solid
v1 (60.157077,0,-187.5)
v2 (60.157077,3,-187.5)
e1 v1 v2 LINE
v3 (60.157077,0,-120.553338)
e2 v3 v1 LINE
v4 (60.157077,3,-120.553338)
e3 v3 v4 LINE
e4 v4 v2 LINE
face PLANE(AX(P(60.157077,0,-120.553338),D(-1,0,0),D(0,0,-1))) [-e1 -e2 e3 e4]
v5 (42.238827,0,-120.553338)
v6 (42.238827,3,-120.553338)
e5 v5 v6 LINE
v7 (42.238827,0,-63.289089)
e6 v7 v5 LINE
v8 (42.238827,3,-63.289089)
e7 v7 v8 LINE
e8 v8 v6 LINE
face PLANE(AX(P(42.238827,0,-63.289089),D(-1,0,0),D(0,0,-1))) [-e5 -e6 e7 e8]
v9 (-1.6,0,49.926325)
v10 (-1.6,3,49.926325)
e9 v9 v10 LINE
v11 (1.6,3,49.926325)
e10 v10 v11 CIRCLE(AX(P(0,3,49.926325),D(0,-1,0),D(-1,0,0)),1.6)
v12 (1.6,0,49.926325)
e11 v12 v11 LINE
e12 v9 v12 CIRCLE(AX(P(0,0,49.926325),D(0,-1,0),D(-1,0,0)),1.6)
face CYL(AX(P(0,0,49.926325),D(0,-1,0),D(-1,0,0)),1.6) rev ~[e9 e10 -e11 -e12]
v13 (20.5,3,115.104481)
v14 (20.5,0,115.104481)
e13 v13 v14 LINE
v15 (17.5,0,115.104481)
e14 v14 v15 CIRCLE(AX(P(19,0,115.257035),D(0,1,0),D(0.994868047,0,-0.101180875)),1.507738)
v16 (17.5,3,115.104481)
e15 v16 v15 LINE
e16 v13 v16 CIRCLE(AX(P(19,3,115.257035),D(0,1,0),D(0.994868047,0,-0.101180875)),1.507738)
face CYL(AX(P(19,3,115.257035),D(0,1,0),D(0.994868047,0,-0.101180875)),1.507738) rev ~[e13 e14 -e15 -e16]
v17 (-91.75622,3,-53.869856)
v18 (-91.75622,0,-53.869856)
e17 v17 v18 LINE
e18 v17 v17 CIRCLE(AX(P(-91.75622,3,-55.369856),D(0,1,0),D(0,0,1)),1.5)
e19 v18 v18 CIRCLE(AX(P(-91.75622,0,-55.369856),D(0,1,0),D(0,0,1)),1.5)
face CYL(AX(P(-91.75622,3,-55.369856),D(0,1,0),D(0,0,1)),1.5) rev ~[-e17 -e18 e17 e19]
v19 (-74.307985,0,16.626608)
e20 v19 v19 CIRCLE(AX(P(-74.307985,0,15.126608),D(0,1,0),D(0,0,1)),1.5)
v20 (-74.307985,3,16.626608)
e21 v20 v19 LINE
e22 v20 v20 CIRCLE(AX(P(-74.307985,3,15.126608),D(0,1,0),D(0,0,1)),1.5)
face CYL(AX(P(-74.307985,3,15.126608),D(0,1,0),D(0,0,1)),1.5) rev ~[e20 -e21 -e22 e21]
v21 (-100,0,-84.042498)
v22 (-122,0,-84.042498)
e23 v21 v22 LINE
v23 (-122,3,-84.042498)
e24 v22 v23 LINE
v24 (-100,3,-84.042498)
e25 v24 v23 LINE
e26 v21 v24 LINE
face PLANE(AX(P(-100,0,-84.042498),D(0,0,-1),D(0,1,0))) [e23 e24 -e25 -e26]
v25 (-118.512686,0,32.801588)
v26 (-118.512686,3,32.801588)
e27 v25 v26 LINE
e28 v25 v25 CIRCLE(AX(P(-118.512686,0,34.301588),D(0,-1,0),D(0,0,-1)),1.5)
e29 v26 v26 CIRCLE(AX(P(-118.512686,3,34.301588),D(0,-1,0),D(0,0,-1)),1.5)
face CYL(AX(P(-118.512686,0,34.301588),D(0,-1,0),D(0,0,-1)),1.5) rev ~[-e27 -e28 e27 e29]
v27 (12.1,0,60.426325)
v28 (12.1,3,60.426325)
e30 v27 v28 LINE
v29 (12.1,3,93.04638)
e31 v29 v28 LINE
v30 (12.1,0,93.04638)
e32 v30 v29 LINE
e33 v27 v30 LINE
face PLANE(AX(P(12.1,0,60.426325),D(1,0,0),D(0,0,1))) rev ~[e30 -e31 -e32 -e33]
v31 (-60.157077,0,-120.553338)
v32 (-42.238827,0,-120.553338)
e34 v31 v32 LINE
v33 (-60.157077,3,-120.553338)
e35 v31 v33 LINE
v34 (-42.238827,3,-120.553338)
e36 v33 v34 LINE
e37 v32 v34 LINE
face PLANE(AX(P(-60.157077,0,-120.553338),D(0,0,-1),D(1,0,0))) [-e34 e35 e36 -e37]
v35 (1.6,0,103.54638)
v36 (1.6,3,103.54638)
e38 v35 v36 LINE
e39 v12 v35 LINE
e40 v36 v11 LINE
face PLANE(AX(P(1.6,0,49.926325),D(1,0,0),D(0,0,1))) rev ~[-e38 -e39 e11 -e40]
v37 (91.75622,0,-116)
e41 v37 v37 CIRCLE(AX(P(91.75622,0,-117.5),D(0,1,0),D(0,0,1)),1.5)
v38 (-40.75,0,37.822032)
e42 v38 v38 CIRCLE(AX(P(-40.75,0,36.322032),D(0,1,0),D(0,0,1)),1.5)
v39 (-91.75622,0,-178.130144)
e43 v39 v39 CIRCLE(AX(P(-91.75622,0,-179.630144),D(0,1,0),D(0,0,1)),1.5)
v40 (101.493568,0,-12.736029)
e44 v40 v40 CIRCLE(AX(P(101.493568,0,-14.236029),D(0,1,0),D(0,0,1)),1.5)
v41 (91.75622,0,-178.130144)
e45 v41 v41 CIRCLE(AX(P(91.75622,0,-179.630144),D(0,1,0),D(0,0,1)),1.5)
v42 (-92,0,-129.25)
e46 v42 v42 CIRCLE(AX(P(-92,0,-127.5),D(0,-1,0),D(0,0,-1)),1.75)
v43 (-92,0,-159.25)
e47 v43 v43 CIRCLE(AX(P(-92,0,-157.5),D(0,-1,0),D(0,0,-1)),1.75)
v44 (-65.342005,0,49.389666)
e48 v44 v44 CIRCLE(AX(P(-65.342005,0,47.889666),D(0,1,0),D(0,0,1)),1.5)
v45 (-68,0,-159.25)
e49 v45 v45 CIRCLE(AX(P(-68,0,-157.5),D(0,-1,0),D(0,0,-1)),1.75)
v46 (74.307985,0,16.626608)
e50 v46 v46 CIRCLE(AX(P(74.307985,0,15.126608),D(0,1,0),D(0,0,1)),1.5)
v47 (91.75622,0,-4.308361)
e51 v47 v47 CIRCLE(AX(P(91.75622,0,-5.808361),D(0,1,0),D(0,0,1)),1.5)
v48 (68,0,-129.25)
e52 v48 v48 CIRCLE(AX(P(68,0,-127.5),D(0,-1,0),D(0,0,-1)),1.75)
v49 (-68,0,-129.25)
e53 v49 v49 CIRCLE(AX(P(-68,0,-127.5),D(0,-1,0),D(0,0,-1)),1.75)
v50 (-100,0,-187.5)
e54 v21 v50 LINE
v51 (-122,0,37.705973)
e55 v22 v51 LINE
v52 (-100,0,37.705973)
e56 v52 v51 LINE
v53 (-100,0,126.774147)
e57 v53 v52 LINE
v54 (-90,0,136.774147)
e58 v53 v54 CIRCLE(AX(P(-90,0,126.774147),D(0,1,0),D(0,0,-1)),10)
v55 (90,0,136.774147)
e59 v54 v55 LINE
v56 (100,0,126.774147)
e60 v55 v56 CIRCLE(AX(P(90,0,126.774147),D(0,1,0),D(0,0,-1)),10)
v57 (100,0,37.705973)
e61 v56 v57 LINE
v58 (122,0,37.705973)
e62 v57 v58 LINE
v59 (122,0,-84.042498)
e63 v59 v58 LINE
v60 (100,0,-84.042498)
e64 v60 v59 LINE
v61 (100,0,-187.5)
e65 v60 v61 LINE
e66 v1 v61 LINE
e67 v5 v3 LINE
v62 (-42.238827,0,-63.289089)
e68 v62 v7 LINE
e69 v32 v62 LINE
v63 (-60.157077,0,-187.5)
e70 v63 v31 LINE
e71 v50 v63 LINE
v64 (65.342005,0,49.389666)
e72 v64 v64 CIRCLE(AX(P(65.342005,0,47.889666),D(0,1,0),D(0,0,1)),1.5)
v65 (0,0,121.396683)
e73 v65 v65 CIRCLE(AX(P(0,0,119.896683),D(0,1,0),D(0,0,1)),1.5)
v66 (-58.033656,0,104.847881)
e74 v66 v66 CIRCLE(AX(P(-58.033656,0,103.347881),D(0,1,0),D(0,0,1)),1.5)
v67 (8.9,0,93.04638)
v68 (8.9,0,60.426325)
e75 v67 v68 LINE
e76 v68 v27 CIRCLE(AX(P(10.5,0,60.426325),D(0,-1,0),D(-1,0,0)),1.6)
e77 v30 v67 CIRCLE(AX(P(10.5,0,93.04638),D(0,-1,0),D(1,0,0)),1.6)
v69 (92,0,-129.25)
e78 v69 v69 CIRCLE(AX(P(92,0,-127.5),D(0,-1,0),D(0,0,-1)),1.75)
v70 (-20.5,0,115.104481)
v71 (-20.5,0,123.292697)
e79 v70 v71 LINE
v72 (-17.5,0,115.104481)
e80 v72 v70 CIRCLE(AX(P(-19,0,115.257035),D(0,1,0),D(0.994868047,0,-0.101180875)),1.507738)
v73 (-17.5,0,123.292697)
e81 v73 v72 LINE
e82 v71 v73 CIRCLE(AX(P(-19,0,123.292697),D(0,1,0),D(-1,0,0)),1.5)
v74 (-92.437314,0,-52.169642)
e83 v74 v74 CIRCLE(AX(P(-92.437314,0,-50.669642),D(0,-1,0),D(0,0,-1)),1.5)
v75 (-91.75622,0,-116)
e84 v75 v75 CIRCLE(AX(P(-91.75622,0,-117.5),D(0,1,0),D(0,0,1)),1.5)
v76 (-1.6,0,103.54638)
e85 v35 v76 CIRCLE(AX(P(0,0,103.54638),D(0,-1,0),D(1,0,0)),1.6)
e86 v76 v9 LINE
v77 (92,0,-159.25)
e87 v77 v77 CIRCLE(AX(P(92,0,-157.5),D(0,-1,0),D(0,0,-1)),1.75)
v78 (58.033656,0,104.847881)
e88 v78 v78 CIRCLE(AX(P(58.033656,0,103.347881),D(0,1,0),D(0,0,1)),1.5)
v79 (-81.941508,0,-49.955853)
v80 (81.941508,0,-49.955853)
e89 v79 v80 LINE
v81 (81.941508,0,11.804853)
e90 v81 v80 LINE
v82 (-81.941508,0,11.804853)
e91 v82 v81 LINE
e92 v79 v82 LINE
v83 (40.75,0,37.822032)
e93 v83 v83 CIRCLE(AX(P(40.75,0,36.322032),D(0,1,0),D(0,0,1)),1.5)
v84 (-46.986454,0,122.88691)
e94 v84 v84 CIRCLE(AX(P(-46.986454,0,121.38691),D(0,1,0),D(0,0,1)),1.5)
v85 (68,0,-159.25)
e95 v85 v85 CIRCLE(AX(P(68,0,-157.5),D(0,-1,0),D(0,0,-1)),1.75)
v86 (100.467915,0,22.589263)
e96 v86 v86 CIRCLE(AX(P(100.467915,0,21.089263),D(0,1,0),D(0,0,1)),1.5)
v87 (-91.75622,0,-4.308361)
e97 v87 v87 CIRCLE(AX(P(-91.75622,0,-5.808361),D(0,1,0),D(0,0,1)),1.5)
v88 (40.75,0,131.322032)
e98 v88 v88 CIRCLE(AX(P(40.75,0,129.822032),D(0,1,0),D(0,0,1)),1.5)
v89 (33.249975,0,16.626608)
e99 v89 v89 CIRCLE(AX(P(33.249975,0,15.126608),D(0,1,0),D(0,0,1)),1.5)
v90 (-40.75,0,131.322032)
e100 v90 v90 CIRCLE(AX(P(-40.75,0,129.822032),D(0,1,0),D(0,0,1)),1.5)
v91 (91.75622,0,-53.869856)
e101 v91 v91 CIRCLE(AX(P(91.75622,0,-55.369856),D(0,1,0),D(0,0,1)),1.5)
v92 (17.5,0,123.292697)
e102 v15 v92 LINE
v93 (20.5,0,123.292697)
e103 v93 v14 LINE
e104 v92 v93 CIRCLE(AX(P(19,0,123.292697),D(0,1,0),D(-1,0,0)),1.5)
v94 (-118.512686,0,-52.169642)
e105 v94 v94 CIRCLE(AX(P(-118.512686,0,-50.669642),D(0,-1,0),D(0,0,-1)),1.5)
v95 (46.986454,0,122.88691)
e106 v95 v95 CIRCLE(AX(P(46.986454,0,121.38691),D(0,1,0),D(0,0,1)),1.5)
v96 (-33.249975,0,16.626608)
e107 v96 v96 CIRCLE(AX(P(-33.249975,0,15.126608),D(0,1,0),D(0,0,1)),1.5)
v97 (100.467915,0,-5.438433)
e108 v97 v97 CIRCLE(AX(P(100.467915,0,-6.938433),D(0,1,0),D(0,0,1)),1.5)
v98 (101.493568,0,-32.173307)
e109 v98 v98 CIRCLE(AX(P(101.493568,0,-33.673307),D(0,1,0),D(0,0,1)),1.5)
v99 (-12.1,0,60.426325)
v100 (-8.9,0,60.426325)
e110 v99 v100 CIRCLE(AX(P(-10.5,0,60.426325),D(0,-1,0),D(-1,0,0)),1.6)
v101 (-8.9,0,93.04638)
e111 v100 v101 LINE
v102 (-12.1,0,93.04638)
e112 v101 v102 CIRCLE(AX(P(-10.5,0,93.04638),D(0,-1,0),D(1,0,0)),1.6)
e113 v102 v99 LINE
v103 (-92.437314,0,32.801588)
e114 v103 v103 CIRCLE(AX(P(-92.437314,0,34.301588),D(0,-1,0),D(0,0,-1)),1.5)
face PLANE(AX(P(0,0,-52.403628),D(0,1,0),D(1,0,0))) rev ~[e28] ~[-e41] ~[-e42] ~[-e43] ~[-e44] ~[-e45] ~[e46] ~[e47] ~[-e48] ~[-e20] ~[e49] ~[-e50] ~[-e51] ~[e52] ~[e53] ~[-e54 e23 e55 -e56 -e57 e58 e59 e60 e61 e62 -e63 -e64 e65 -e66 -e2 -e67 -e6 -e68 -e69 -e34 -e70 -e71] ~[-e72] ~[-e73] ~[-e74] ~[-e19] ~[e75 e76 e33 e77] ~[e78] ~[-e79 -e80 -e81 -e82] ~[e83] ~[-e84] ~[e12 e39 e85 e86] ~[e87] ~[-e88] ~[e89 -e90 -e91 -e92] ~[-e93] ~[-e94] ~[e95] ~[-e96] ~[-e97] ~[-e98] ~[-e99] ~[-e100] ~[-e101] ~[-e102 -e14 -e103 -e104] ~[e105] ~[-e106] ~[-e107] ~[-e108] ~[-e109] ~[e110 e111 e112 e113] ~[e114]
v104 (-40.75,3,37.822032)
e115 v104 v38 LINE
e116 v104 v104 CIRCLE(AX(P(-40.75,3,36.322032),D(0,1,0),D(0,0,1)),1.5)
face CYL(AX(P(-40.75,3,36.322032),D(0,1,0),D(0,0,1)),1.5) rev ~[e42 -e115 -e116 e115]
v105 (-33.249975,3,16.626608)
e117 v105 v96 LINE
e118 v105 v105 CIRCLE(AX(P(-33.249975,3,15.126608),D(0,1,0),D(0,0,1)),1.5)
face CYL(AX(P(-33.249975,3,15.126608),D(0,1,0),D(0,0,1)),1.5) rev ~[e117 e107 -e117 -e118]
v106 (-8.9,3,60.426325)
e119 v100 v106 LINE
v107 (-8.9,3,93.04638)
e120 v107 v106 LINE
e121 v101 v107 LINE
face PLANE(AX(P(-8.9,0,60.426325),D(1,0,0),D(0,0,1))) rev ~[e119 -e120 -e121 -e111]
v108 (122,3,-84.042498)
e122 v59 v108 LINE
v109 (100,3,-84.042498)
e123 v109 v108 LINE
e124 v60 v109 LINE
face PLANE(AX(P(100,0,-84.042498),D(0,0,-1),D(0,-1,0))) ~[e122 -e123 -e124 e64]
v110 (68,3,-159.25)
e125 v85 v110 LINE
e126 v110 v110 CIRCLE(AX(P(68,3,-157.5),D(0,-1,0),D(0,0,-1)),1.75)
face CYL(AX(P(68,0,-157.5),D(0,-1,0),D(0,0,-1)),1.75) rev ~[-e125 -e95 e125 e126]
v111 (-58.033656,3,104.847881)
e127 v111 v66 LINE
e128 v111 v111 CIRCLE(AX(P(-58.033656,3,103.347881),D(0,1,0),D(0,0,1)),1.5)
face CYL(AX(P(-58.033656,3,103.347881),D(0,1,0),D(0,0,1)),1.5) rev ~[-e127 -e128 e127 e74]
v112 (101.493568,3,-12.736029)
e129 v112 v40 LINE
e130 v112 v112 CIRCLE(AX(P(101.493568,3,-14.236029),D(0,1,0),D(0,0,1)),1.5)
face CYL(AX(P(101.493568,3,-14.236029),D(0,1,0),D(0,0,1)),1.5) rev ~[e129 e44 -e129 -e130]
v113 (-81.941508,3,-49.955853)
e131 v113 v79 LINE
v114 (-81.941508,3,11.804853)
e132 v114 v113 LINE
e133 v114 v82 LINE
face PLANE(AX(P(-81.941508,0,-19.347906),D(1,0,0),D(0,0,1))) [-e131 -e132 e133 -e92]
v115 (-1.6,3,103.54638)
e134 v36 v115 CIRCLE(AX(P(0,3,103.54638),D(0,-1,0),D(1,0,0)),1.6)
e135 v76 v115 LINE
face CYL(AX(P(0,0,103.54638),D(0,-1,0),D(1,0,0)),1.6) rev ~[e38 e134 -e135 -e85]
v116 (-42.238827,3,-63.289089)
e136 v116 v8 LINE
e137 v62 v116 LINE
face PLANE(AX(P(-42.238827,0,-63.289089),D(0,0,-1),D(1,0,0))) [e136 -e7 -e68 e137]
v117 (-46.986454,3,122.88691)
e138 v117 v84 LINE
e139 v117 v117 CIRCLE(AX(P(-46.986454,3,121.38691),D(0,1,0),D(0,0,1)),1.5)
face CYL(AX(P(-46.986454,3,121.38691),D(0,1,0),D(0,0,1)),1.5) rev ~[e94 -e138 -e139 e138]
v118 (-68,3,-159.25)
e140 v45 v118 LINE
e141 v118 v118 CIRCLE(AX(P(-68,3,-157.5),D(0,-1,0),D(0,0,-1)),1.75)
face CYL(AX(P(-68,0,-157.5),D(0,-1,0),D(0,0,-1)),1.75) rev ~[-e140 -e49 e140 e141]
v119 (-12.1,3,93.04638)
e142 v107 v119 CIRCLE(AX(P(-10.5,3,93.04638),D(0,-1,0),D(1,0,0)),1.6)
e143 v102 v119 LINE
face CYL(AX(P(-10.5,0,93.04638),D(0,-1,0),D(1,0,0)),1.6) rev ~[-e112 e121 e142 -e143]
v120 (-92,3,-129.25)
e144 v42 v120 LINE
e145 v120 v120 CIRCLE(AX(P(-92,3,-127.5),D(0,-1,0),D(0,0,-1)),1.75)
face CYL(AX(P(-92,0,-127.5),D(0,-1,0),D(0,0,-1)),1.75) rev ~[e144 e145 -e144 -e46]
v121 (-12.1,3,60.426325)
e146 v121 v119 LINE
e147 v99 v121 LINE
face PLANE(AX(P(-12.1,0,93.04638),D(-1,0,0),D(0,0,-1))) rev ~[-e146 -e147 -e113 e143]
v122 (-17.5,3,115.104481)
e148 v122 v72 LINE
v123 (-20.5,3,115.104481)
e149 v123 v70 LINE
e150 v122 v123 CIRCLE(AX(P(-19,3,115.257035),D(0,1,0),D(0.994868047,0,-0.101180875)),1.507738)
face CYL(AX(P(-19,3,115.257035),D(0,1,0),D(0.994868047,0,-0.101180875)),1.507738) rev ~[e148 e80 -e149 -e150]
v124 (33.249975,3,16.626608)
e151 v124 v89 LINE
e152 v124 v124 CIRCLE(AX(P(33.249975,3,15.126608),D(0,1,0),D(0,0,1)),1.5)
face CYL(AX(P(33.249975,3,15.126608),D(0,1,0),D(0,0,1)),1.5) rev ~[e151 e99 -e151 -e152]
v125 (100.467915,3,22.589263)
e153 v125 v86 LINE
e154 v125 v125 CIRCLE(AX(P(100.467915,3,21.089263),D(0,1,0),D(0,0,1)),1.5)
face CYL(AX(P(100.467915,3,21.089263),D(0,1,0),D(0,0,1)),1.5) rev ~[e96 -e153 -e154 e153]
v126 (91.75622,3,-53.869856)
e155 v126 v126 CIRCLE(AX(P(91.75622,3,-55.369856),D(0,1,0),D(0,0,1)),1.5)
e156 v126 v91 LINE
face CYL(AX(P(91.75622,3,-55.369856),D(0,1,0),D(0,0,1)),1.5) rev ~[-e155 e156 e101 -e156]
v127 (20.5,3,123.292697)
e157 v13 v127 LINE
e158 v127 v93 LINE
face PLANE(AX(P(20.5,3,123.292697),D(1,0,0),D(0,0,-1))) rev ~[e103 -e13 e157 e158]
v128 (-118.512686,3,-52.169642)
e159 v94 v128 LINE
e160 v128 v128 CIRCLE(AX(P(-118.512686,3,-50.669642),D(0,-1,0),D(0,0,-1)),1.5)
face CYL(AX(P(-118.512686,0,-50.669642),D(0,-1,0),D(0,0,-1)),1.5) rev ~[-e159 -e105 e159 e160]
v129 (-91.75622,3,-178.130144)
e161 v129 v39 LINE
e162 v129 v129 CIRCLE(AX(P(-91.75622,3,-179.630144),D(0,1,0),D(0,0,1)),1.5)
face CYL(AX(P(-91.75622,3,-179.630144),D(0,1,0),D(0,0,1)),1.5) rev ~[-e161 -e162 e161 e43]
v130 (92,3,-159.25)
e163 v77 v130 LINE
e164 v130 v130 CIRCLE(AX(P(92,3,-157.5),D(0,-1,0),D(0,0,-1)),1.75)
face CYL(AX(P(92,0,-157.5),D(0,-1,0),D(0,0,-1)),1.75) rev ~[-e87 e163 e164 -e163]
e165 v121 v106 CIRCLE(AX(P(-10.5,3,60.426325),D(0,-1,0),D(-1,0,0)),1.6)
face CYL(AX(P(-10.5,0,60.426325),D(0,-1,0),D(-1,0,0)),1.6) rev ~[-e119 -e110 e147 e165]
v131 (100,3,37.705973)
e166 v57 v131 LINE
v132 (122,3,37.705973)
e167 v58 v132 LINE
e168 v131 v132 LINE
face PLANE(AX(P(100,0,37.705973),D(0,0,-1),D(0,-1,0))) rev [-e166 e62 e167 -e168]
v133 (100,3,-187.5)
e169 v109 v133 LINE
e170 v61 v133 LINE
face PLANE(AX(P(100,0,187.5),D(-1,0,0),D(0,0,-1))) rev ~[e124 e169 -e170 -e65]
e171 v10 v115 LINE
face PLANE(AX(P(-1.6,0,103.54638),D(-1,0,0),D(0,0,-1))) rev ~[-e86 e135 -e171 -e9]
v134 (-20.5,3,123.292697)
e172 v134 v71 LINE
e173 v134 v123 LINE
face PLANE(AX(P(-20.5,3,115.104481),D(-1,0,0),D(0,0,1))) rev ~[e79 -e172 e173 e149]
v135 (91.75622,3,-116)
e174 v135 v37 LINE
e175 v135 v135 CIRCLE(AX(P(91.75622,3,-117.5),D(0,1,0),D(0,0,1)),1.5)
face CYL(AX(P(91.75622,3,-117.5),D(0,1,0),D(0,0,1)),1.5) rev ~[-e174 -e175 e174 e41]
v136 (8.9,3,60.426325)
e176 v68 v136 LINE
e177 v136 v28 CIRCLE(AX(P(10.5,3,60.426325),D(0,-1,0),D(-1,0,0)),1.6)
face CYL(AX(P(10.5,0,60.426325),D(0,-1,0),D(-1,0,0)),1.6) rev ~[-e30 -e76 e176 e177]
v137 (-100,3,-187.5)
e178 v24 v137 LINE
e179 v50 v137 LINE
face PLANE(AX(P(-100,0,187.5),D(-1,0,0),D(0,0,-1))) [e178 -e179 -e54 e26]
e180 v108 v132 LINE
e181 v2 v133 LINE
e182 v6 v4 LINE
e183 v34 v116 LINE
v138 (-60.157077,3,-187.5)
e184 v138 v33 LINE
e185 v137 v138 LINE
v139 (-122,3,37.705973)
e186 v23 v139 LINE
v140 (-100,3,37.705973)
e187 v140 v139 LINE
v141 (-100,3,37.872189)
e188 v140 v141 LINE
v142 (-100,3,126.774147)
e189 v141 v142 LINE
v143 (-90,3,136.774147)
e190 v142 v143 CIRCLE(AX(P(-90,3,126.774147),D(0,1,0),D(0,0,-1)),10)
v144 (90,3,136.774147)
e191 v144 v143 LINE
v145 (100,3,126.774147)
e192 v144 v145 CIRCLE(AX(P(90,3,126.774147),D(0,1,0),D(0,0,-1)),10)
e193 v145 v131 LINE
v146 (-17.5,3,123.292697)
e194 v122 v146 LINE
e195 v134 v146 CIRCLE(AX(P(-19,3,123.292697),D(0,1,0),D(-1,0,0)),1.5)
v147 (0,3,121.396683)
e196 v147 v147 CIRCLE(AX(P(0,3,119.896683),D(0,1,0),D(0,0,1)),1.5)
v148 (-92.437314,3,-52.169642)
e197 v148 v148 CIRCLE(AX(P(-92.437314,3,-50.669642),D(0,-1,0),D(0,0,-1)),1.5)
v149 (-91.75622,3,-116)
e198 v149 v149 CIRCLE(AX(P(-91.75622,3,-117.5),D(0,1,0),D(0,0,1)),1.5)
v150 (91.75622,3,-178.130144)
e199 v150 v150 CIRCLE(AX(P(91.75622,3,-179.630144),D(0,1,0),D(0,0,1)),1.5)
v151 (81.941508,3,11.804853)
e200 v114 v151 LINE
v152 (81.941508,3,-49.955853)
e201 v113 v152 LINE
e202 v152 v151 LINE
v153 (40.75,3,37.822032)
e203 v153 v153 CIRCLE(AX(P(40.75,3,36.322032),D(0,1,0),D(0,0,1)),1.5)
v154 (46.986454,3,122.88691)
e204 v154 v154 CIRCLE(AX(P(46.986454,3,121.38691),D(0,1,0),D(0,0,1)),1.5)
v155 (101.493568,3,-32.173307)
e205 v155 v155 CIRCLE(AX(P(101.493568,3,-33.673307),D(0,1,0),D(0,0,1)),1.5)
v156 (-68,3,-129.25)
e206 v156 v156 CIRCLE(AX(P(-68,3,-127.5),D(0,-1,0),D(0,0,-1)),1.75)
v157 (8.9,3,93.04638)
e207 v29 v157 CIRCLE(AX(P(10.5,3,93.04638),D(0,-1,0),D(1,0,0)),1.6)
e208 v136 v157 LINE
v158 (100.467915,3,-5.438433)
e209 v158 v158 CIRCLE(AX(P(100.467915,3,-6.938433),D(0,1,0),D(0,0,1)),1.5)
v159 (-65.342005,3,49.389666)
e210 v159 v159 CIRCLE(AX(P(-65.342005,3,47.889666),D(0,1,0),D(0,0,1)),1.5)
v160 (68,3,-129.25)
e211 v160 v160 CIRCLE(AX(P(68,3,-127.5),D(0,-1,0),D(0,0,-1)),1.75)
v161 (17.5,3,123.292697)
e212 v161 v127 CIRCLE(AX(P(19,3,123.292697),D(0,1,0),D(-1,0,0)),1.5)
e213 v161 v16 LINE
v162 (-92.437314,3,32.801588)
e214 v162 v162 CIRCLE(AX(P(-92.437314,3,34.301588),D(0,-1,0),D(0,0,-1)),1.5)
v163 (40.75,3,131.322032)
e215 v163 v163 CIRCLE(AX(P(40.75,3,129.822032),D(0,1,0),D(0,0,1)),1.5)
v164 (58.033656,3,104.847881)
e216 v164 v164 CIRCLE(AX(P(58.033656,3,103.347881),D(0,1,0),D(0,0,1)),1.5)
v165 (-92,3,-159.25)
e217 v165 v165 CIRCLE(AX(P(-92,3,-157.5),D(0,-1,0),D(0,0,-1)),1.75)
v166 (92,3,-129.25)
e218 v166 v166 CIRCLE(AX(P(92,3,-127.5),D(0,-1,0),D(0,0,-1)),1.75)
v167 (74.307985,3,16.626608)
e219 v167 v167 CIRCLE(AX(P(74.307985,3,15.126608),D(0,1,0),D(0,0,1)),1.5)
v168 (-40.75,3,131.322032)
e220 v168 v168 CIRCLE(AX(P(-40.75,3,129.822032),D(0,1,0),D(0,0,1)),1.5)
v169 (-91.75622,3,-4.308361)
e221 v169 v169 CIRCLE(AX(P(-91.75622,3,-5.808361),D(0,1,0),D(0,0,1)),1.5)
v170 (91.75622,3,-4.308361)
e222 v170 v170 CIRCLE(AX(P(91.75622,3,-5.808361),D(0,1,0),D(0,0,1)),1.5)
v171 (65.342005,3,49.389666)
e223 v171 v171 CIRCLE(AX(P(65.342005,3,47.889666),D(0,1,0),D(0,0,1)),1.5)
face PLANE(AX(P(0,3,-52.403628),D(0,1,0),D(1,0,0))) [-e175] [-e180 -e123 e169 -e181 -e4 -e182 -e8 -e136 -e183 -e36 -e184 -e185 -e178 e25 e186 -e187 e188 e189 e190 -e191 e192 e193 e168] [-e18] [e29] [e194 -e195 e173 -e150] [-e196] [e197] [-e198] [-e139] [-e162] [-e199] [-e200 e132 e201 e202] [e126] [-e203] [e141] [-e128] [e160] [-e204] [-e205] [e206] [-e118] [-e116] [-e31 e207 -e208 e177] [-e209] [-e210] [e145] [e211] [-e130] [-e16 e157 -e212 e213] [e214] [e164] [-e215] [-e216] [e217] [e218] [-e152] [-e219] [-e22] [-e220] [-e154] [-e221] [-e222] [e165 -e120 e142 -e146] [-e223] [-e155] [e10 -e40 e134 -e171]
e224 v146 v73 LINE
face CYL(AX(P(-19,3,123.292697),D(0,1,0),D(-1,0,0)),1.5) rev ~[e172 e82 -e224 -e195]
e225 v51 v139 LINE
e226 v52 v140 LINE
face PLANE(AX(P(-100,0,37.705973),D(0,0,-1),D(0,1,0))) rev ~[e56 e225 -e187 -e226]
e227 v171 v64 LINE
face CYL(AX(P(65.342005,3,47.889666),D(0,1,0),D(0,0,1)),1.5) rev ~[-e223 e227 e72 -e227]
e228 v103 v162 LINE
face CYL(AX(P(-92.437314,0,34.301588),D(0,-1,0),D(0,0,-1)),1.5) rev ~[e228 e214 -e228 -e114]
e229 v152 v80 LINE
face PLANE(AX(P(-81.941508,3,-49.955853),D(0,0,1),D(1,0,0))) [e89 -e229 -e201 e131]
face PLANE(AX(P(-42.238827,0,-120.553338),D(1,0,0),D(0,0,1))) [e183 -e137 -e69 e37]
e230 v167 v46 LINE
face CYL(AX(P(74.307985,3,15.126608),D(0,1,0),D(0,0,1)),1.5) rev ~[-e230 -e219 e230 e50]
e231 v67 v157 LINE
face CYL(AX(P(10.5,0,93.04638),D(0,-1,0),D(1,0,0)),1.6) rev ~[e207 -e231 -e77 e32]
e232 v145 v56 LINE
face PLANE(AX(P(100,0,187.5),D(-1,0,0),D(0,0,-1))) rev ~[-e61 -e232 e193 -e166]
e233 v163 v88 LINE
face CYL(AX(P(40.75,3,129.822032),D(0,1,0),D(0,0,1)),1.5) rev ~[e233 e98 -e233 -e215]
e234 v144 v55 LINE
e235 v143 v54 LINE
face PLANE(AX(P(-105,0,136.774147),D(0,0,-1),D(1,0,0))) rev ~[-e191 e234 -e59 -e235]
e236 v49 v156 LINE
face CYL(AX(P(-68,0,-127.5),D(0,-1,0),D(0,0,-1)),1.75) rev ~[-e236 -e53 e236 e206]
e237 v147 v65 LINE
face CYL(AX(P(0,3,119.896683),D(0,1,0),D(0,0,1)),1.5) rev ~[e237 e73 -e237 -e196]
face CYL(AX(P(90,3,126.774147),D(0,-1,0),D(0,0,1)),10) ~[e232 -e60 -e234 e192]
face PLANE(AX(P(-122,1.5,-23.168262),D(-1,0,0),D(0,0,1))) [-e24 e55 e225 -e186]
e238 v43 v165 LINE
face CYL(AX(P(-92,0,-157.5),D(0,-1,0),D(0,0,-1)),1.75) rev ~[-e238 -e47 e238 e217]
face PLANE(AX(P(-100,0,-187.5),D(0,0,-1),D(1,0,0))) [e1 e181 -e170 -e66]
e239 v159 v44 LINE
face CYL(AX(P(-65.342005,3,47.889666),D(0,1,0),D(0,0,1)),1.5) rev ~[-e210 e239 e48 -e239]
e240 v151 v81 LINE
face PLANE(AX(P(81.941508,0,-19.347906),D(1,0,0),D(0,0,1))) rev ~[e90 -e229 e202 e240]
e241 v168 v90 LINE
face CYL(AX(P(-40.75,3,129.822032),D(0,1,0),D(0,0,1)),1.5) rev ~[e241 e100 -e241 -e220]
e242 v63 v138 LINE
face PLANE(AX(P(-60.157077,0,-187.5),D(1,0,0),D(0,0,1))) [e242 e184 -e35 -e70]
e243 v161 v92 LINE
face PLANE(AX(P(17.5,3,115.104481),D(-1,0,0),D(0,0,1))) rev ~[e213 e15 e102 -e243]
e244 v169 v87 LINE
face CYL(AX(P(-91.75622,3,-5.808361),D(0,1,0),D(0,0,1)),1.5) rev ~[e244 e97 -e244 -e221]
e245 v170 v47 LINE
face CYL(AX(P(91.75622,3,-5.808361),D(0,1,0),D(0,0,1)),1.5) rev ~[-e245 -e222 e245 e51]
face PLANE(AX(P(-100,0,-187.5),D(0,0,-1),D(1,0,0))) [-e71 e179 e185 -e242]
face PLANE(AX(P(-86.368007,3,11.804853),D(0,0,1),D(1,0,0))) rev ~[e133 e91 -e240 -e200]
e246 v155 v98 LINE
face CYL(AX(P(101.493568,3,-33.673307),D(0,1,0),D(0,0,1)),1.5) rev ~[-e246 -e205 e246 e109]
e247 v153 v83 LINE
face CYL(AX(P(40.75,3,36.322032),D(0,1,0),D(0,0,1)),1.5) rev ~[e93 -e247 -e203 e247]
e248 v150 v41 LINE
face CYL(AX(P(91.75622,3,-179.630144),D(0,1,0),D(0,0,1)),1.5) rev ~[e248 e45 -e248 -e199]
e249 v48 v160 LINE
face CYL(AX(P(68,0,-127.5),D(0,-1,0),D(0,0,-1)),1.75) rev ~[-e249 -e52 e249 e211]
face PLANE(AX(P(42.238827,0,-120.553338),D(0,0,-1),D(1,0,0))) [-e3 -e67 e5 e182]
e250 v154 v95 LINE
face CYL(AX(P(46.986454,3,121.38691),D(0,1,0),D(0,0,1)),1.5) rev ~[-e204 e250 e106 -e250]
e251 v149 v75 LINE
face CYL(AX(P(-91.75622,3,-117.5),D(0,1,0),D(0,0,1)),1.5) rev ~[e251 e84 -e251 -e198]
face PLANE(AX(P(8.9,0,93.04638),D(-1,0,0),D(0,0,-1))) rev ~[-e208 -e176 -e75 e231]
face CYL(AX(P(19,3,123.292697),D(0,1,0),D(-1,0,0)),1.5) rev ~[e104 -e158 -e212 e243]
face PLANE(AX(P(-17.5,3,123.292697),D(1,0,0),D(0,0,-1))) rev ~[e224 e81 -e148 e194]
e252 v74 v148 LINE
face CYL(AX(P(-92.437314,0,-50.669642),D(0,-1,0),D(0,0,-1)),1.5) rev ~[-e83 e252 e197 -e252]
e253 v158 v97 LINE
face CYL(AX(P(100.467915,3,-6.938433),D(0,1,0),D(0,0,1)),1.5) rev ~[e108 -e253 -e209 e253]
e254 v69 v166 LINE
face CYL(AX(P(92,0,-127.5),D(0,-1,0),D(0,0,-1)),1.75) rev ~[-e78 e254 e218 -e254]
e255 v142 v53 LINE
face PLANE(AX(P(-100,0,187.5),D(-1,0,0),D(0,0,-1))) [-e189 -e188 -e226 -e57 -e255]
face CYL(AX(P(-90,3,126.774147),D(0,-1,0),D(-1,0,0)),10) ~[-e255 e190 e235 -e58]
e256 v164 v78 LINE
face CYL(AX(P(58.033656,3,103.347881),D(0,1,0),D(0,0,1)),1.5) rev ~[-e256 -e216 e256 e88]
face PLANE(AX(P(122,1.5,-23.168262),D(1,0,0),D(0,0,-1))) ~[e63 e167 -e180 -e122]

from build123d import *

# Parameters (mm, degrees)
SKETCH_1_W           = 200
SKETCH_1_H           = 375
EXTRUDE_1_DEPTH      = 3
SKETCH_2_R           = 1.75
CUT_EXTRUDE_1_DEPTH  = 10
SKETCH_3_R           = 1.5
CUT_EXTRUDE_2_DEPTH  = 10
SKETCH_4_R           = 1.5
CUT_EXTRUDE_3_DEPTH  = 10
SKETCH_5_W           = 210
SKETCH_5_H           = 50.72585274
CUT_EXTRUDE_5_DEPTH  = 34.39
SKETCH_8_R           = 1.5
EXTRUDE_2_DEPTH      = 3
SKETCH_9_W           = 163.883016164
SKETCH_9_H           = 75
CUT_EXTRUDE_6_DEPTH  = 10
CUT_EXTRUDE_7_DEPTH  = 3
SKETCH_11_R          = 1.5
CUT_EXTRUDE_8_DEPTH  = 6
SKETCH_12_R          = 1.5
CUT_EXTRUDE_9_DEPTH  = 3
CUT_EXTRUDE_10_DEPTH = 163.8
SKETCH_16_W          = 173.87129554
SKETCH_16_H          = 50.701400684
EXTRUDE_4_DEPTH      = 3
SKETCH_18_W          = 121.748470969
SKETCH_18_H          = 3
EXTRUDE_5_DEPTH      = 22
SKETCH_19_W          = 17.27862471
SKETCH_19_H          = 21.556396233
CUT_EXTRUDE_11_DEPTH = 22
SKETCH_20_R          = 1.5
CUT_EXTRUDE_12_DEPTH = 5
SKETCH_21_R          = 1.5
CUT_EXTRUDE_13_DEPTH = 6
SKETCH_22_W          = 163.883016164
SKETCH_22_H          = 4.895548477
EXTRUDE_6_DEPTH      = 3
CUT_EXTRUDE_14_DEPTH = 10
CUT_EXTRUDE_15_DEPTH = 10
SKETCH_25_R          = 1.5
CUT_EXTRUDE_16_DEPTH = 5
SKETCH_26_R          = 1.5
CUT_EXTRUDE_17_DEPTH = 10
SKETCH_27_R          = 1.5
CUT_EXTRUDE_18_DEPTH = 3
SKETCH_28_R          = 1.5
CUT_EXTRUDE_19_DEPTH = 3
FILLET_1_R           = 10


with BuildPart() as part:
    # 草图1 → 凸台-拉伸1 (new body)
    with BuildSketch(Plane(origin=(0, 0, 0), x_dir=(1, 0, 0), z_dir=(0, 1, 0))):
        Rectangle(SKETCH_1_W, SKETCH_1_H)
    extrude(amount=EXTRUDE_1_DEPTH)

    # 草图2 → 切除-拉伸1 (cut)
    with BuildSketch(Plane.XZ):
        with Locations(Location((-68, -157.5, 0), (0, 0, 270))):
            Circle(SKETCH_2_R)
        with Locations(Location((-92, -157.5, 0), (0, 0, 270))):
            Circle(SKETCH_2_R)
        with Locations(Location((-92, -127.5, 0), (0, 0, 270))):
            Circle(SKETCH_2_R)
        with Locations(Location((-68, -127.5, 0), (0, 0, 270))):
            Circle(SKETCH_2_R)
        with Locations(Location((68, -157.5, 0), (0, 0, 270))):
            Circle(SKETCH_2_R)
        with Locations(Location((92, -157.5, 0), (0, 0, 270))):
            Circle(SKETCH_2_R)
        with Locations(Location((92, -127.5, 0), (0, 0, 270))):
            Circle(SKETCH_2_R)
        with Locations(Location((68, -127.5, 0), (0, 0, 270))):
            Circle(SKETCH_2_R)
    extrude(amount=-CUT_EXTRUDE_1_DEPTH, mode=Mode.SUBTRACT)

    # 草图3 → 切除-拉伸2 (cut)
    with BuildSketch(Plane(origin=(0, 3, 0), x_dir=(1, 0, 0), z_dir=(0, 1, 0))):
        with Locations(Location((0, -119.896683452, 0), (0, 0, 270))):
            Circle(SKETCH_3_R)
    extrude(amount=-CUT_EXTRUDE_2_DEPTH, mode=Mode.SUBTRACT)

    # 草图4 → 切除-拉伸3 (cut)
    with BuildSketch(Plane(origin=(0, 3, 0), x_dir=(1, 0, 0), z_dir=(0, 1, 0))):
        with Locations(Location((19, -119.896683452, 0), (0, 0, 270))):
            Circle(SKETCH_4_R)
        with Locations(Location((-19, -119.896683452, 0), (0, 0, 270))):
            Circle(SKETCH_4_R)
    extrude(amount=-CUT_EXTRUDE_3_DEPTH, mode=Mode.SUBTRACT)

    # 草图5 → 切除-拉伸5 (cut)
    with BuildSketch(Plane.XZ):
        with Locations((0, 162.13707363)):
            Rectangle(SKETCH_5_W, SKETCH_5_H)
    extrude(amount=-CUT_EXTRUDE_5_DEPTH, mode=Mode.SUBTRACT)

    # 草图8 → 凸台-拉伸2 (add)
    with BuildSketch(Plane.ZY.offset(100)):
        with BuildLine():
            Line((34.419687156, 14.367900616), (37.872189, 3))
            Line((37.872189, 3), (25.226116951, 3))
            Line((25.226116951, 3), (28.678618796, 14.367900616))
            ThreePointArc((28.678618796, 14.367900616), (31.549152976, 16.496101602), (34.419687156, 14.367900616))
        make_face()
        with Locations((31.549152976, 13.496101602)):
            Circle(SKETCH_8_R, mode=Mode.SUBTRACT)
    extrude(amount=-EXTRUDE_2_DEPTH)

    # 草图9 → 切除-拉伸6 (cut)
    with BuildSketch(Plane.XZ):
        with Locations((0, 18.152093794)):
            Rectangle(SKETCH_9_W, SKETCH_9_H)
    extrude(amount=-CUT_EXTRUDE_6_DEPTH, mode=Mode.SUBTRACT)

    # 草图10 → 切除-拉伸7 (cut)
    with BuildSketch(Plane.XZ):
        Polygon((-60.157077223, -120.5533384), (-42.238826625, -120.5533384), (-42.238826625, -63.289088645), (42.238826625, -63.289088645), (42.238826625, -120.5533384), (60.157077223, -120.5533384), (60.157077223, -187.5), (-60.157077223, -187.5), align=None)
    extrude(amount=-CUT_EXTRUDE_7_DEPTH, mode=Mode.SUBTRACT)

    # 草图11 → 切除-拉伸8 (cut)
    with BuildSketch(Plane(origin=(0, 3, 0), x_dir=(1, 0, 0), z_dir=(0, 1, 0))):
        with Locations(Location((-91.756220162, 179.630143817, 0), (0, 0, 270))):
            Circle(SKETCH_11_R)
        with Locations(Location((-91.756220162, 117.5, 0), (0, 0, 270))):
            Circle(SKETCH_11_R)
        with Locations(Location((-91.756220162, 55.369856183, 0), (0, 0, 270))):
            Circle(SKETCH_11_R)
        with Locations(Location((91.756220162, 55.369856183, 0), (0, 0, 270))):
            Circle(SKETCH_11_R)
        with Locations(Location((91.756220162, 117.5, 0), (0, 0, 270))):
            Circle(SKETCH_11_R)
        with Locations(Location((91.756220162, 179.630143817, 0), (0, 0, 270))):
            Circle(SKETCH_11_R)
    extrude(amount=-CUT_EXTRUDE_8_DEPTH, mode=Mode.SUBTRACT)

    # 草图12 → 切除-拉伸9 (cut)
    with BuildSketch(Plane(origin=(0, 3, 0), x_dir=(1, 0, 0), z_dir=(0, 1, 0))):
        with Locations(Location((-91.756220162, 5.808361465, 0), (0, 0, 270))):
            Circle(SKETCH_12_R)
        with Locations(Location((91.756220162, 5.808361465, 0), (0, 0, 270))):
            Circle(SKETCH_12_R)
    extrude(amount=-CUT_EXTRUDE_9_DEPTH, mode=Mode.SUBTRACT)

    # 草图14 → 切除-拉伸10 (cut)
    with BuildSketch(Plane(origin=(0, 3, 0), x_dir=(1, 0, 0), z_dir=(0, 1, 0))):
        Polygon((81.941508082, 19.347906206), (81.941508082, 49.288971574), (81.941508082, 54.851401937), (-81.941508082, 54.851401937), (-81.941508082, 49.288971574), (-81.941508082, 19.347906206), align=None)
    extrude(amount=-CUT_EXTRUDE_10_DEPTH, mode=Mode.SUBTRACT)

    # 草图16 → 凸台-拉伸4 (add)
    with BuildSketch(Plane(origin=(0, 3, 0), x_dir=(1, 0, 0), z_dir=(0, 1, 0))):
        with Locations((0.567640728, -37.155553542)):
            Rectangle(SKETCH_16_W, SKETCH_16_H)
    extrude(amount=-EXTRUDE_4_DEPTH)

    # 草图18 → 凸台-拉伸5 (add)
    with BuildSketch(Plane.ZY.offset(100)):
        with Locations((-23.168262452, 1.5)):
            Rectangle(SKETCH_18_W, SKETCH_18_H)
    extrude_5 = extrude(amount=EXTRUDE_5_DEPTH)

    # 草图19 → 切除-拉伸11 (cut)
    with BuildSketch(Plane.ZY.offset(100)):
        with Locations((31.606580178, 13.778198117)):
            Rectangle(SKETCH_19_W, SKETCH_19_H)
    extrude(amount=-CUT_EXTRUDE_11_DEPTH, mode=Mode.SUBTRACT)

    # 镜向1: 凸台-拉伸5 across plane
    add(extrude_5.mirror(Plane(origin=(0, 0, 0), x_dir=(0, 0, 1), z_dir=(1, 0, 0))))

    # 草图20 → 切除-拉伸12 (cut)
    with BuildSketch(Plane.XZ):
        with Locations(Location((-92.437313721, 34.301588012, 0), (0, 0, 270))):
            Circle(SKETCH_20_R)
        with Locations(Location((-118.512686279, 34.301588012, 0), (0, 0, 270))):
            Circle(SKETCH_20_R)
        with Locations(Location((-92.437313721, -50.669641947, 0), (0, 0, 270))):
            Circle(SKETCH_20_R)
        with Locations(Location((-118.512686279, -50.669641947, 0), (0, 0, 270))):
            Circle(SKETCH_20_R)
    extrude(amount=-CUT_EXTRUDE_12_DEPTH, mode=Mode.SUBTRACT)

    # 草图21 → 切除-拉伸13 (cut)
    with BuildSketch(Plane(origin=(0, 3, 0), x_dir=(1, 0, 0), z_dir=(0, 1, 0))):
        with Locations(Location((101.493568208, 33.673307051, 0), (0, 0, 270))):
            Circle(SKETCH_21_R)
        with Locations(Location((101.493568208, 14.236029002, 0), (0, 0, 270))):
            Circle(SKETCH_21_R)
        with Locations(Location((100.46791463, -21.089263072, 0), (0, 0, 270))):
            Circle(SKETCH_21_R)
        with Locations(Location((100.46791463, 6.938433331, 0), (0, 0, 270))):
            Circle(SKETCH_21_R)
    extrude(amount=-CUT_EXTRUDE_13_DEPTH, mode=Mode.SUBTRACT)

    # 草图22 → 凸台-拉伸6 (add)
    with BuildSketch(Plane(origin=(0, 3, 0), x_dir=(1, 0, 0), z_dir=(0, 1, 0))):
        with Locations((0, 52.403627699)):
            Rectangle(SKETCH_22_W, SKETCH_22_H)
    extrude(amount=-EXTRUDE_6_DEPTH)

    # 草图23 → 切除-拉伸14 (cut)
    with BuildSketch(Plane.XZ):
        with BuildLine():
            Line((-12.1, 93.046379783), (-12.1, 60.426325499))
            ThreePointArc((-12.1, 60.426325499), (-10.5, 58.826325499), (-8.9, 60.426325499))
            Line((-8.9, 60.426325499), (-8.9, 93.046379783))
            ThreePointArc((-8.9, 93.046379783), (-10.5, 94.646379783), (-12.1, 93.046379783))
        make_face()
        with BuildLine():
            Line((8.9, 93.046379783), (8.9, 60.426325499))
            ThreePointArc((8.9, 60.426325499), (10.5, 58.826325499), (12.1, 60.426325499))
            Line((12.1, 60.426325499), (12.1, 93.046379783))
            ThreePointArc((12.1, 93.046379783), (10.5, 94.646379783), (8.9, 93.046379783))
        make_face()
        with BuildLine():
            Line((-1.6, 103.546379783), (-1.6, 49.926325499))
            ThreePointArc((-1.6, 49.926325499), (0, 48.326325499), (1.6, 49.926325499))
            Line((1.6, 49.926325499), (1.6, 103.546379783))
            ThreePointArc((1.6, 103.546379783), (0, 105.146379783), (-1.6, 103.546379783))
        make_face()
    extrude(amount=-CUT_EXTRUDE_14_DEPTH, mode=Mode.SUBTRACT)

    # 草图24 → 切除-拉伸15 (cut)
    with BuildSketch(Plane(origin=(0, 3, 0), x_dir=(1, 0, 0), z_dir=(0, 1, 0))):
        with BuildLine():
            Line((-20.5, -115.409589276), (-20.5, -119.896683452))
            Line((-20.5, -119.896683452), (-20.5, -123.292696741))
            ThreePointArc((-20.5, -123.292696741), (-19, -124.792696741), (-17.5, -123.292696741))
            Line((-17.5, -123.292696741), (-17.5, -119.896683452))
            Line((-17.5, -119.896683452), (-17.5, -115.409589276))
            Line((-17.5, -115.409589276), (-17.5, -115.10448085))
            ThreePointArc((-17.5, -115.10448085), (-19, -113.749297424), (-20.5, -115.10448085))
            Line((-20.5, -115.10448085), (-20.5, -115.409589276))
        make_face()
        with BuildLine():
            ThreePointArc((17.5, -123.292696741), (19, -124.792696741), (20.5, -123.292696741))
            Line((20.5, -123.292696741), (20.5, -119.896683452))
            Line((20.5, -119.896683452), (20.5, -115.409589276))
            Line((20.5, -115.409589276), (20.5, -115.10448085))
            ThreePointArc((20.5, -115.10448085), (19, -113.749297424), (17.5, -115.10448085))
            Line((17.5, -115.10448085), (17.5, -115.409589276))
            Line((17.5, -115.409589276), (17.5, -119.896683452))
            Line((17.5, -119.896683452), (17.5, -123.292696741))
        make_face()
    extrude(amount=-CUT_EXTRUDE_15_DEPTH, mode=Mode.SUBTRACT)

    # 草图25 → 切除-拉伸16 (cut)
    with BuildSketch(Plane(origin=(0, 3, 0), x_dir=(1, 0, 0), z_dir=(0, 1, 0))):
        with Locations(Location((-74.307985478, -15.126608199, 0), (0, 0, 270))):
            Circle(SKETCH_25_R)
        with Locations(Location((-33.249974851, -15.126608199, 0), (0, 0, 270))):
            Circle(SKETCH_25_R)
        with Locations(Location((33.249974851, -15.126608199, 0), (0, 0, 270))):
            Circle(SKETCH_25_R)
        with Locations(Location((74.307985478, -15.126608199, 0), (0, 0, 270))):
            Circle(SKETCH_25_R)
    extrude(amount=-CUT_EXTRUDE_16_DEPTH, mode=Mode.SUBTRACT)

    # 草图26 → 切除-拉伸17 (cut)
    with BuildSketch(Plane(origin=(0, 3, 0), x_dir=(1, 0, 0), z_dir=(0, 1, 0))):
        with Locations(Location((-65.342005187, -47.889665829, 0), (0, 0, 270))):
            Circle(SKETCH_26_R)
        with Locations(Location((65.342005187, -47.889665829, 0), (0, 0, 270))):
            Circle(SKETCH_26_R)
        with Locations(Location((46.986453842, -121.386909585, 0), (0, 0, 270))):
            Circle(SKETCH_26_R)
        with Locations(Location((-46.986453842, -121.386909585, 0), (0, 0, 270))):
            Circle(SKETCH_26_R)
    extrude(amount=-CUT_EXTRUDE_17_DEPTH, mode=Mode.SUBTRACT)

    # 草图27 → 切除-拉伸18 (cut)
    with BuildSketch(Plane(origin=(0, 3, 0), x_dir=(1, 0, 0), z_dir=(0, 1, 0))):
        with Locations(Location((-40.75, -36.322032373, 0), (0, 0, 270))):
            Circle(SKETCH_27_R)
        with Locations(Location((40.75, -36.322032373, 0), (0, 0, 270))):
            Circle(SKETCH_27_R)
        with Locations(Location((40.75, -129.822032373, 0), (0, 0, 270))):
            Circle(SKETCH_27_R)
        with Locations(Location((-40.75, -129.822032373, 0), (0, 0, 270))):
            Circle(SKETCH_27_R)
    extrude(amount=-CUT_EXTRUDE_18_DEPTH, mode=Mode.SUBTRACT)

    # 草图28 → 切除-拉伸19 (cut)
    with BuildSketch(Plane(origin=(0, 3, 0), x_dir=(1, 0, 0), z_dir=(0, 1, 0))):
        with Locations(Location((-58.033655971, -103.347880676, 0), (0, 0, 270))):
            Circle(SKETCH_28_R)
        with Locations(Location((58.033655971, -103.347880676, 0), (0, 0, 270))):
            Circle(SKETCH_28_R)
    extrude(amount=-CUT_EXTRUDE_19_DEPTH, mode=Mode.SUBTRACT)

    # 圆角1
    fillet_1_edges = [part.edges().sort_by_distance(p)[0] for p in [
        (100, 1.5, 136.77414726),
        (-100, 1.5, 136.77414726),
    ]]
    fillet(fillet_1_edges, radius=FILLET_1_R)


solid = part.part
